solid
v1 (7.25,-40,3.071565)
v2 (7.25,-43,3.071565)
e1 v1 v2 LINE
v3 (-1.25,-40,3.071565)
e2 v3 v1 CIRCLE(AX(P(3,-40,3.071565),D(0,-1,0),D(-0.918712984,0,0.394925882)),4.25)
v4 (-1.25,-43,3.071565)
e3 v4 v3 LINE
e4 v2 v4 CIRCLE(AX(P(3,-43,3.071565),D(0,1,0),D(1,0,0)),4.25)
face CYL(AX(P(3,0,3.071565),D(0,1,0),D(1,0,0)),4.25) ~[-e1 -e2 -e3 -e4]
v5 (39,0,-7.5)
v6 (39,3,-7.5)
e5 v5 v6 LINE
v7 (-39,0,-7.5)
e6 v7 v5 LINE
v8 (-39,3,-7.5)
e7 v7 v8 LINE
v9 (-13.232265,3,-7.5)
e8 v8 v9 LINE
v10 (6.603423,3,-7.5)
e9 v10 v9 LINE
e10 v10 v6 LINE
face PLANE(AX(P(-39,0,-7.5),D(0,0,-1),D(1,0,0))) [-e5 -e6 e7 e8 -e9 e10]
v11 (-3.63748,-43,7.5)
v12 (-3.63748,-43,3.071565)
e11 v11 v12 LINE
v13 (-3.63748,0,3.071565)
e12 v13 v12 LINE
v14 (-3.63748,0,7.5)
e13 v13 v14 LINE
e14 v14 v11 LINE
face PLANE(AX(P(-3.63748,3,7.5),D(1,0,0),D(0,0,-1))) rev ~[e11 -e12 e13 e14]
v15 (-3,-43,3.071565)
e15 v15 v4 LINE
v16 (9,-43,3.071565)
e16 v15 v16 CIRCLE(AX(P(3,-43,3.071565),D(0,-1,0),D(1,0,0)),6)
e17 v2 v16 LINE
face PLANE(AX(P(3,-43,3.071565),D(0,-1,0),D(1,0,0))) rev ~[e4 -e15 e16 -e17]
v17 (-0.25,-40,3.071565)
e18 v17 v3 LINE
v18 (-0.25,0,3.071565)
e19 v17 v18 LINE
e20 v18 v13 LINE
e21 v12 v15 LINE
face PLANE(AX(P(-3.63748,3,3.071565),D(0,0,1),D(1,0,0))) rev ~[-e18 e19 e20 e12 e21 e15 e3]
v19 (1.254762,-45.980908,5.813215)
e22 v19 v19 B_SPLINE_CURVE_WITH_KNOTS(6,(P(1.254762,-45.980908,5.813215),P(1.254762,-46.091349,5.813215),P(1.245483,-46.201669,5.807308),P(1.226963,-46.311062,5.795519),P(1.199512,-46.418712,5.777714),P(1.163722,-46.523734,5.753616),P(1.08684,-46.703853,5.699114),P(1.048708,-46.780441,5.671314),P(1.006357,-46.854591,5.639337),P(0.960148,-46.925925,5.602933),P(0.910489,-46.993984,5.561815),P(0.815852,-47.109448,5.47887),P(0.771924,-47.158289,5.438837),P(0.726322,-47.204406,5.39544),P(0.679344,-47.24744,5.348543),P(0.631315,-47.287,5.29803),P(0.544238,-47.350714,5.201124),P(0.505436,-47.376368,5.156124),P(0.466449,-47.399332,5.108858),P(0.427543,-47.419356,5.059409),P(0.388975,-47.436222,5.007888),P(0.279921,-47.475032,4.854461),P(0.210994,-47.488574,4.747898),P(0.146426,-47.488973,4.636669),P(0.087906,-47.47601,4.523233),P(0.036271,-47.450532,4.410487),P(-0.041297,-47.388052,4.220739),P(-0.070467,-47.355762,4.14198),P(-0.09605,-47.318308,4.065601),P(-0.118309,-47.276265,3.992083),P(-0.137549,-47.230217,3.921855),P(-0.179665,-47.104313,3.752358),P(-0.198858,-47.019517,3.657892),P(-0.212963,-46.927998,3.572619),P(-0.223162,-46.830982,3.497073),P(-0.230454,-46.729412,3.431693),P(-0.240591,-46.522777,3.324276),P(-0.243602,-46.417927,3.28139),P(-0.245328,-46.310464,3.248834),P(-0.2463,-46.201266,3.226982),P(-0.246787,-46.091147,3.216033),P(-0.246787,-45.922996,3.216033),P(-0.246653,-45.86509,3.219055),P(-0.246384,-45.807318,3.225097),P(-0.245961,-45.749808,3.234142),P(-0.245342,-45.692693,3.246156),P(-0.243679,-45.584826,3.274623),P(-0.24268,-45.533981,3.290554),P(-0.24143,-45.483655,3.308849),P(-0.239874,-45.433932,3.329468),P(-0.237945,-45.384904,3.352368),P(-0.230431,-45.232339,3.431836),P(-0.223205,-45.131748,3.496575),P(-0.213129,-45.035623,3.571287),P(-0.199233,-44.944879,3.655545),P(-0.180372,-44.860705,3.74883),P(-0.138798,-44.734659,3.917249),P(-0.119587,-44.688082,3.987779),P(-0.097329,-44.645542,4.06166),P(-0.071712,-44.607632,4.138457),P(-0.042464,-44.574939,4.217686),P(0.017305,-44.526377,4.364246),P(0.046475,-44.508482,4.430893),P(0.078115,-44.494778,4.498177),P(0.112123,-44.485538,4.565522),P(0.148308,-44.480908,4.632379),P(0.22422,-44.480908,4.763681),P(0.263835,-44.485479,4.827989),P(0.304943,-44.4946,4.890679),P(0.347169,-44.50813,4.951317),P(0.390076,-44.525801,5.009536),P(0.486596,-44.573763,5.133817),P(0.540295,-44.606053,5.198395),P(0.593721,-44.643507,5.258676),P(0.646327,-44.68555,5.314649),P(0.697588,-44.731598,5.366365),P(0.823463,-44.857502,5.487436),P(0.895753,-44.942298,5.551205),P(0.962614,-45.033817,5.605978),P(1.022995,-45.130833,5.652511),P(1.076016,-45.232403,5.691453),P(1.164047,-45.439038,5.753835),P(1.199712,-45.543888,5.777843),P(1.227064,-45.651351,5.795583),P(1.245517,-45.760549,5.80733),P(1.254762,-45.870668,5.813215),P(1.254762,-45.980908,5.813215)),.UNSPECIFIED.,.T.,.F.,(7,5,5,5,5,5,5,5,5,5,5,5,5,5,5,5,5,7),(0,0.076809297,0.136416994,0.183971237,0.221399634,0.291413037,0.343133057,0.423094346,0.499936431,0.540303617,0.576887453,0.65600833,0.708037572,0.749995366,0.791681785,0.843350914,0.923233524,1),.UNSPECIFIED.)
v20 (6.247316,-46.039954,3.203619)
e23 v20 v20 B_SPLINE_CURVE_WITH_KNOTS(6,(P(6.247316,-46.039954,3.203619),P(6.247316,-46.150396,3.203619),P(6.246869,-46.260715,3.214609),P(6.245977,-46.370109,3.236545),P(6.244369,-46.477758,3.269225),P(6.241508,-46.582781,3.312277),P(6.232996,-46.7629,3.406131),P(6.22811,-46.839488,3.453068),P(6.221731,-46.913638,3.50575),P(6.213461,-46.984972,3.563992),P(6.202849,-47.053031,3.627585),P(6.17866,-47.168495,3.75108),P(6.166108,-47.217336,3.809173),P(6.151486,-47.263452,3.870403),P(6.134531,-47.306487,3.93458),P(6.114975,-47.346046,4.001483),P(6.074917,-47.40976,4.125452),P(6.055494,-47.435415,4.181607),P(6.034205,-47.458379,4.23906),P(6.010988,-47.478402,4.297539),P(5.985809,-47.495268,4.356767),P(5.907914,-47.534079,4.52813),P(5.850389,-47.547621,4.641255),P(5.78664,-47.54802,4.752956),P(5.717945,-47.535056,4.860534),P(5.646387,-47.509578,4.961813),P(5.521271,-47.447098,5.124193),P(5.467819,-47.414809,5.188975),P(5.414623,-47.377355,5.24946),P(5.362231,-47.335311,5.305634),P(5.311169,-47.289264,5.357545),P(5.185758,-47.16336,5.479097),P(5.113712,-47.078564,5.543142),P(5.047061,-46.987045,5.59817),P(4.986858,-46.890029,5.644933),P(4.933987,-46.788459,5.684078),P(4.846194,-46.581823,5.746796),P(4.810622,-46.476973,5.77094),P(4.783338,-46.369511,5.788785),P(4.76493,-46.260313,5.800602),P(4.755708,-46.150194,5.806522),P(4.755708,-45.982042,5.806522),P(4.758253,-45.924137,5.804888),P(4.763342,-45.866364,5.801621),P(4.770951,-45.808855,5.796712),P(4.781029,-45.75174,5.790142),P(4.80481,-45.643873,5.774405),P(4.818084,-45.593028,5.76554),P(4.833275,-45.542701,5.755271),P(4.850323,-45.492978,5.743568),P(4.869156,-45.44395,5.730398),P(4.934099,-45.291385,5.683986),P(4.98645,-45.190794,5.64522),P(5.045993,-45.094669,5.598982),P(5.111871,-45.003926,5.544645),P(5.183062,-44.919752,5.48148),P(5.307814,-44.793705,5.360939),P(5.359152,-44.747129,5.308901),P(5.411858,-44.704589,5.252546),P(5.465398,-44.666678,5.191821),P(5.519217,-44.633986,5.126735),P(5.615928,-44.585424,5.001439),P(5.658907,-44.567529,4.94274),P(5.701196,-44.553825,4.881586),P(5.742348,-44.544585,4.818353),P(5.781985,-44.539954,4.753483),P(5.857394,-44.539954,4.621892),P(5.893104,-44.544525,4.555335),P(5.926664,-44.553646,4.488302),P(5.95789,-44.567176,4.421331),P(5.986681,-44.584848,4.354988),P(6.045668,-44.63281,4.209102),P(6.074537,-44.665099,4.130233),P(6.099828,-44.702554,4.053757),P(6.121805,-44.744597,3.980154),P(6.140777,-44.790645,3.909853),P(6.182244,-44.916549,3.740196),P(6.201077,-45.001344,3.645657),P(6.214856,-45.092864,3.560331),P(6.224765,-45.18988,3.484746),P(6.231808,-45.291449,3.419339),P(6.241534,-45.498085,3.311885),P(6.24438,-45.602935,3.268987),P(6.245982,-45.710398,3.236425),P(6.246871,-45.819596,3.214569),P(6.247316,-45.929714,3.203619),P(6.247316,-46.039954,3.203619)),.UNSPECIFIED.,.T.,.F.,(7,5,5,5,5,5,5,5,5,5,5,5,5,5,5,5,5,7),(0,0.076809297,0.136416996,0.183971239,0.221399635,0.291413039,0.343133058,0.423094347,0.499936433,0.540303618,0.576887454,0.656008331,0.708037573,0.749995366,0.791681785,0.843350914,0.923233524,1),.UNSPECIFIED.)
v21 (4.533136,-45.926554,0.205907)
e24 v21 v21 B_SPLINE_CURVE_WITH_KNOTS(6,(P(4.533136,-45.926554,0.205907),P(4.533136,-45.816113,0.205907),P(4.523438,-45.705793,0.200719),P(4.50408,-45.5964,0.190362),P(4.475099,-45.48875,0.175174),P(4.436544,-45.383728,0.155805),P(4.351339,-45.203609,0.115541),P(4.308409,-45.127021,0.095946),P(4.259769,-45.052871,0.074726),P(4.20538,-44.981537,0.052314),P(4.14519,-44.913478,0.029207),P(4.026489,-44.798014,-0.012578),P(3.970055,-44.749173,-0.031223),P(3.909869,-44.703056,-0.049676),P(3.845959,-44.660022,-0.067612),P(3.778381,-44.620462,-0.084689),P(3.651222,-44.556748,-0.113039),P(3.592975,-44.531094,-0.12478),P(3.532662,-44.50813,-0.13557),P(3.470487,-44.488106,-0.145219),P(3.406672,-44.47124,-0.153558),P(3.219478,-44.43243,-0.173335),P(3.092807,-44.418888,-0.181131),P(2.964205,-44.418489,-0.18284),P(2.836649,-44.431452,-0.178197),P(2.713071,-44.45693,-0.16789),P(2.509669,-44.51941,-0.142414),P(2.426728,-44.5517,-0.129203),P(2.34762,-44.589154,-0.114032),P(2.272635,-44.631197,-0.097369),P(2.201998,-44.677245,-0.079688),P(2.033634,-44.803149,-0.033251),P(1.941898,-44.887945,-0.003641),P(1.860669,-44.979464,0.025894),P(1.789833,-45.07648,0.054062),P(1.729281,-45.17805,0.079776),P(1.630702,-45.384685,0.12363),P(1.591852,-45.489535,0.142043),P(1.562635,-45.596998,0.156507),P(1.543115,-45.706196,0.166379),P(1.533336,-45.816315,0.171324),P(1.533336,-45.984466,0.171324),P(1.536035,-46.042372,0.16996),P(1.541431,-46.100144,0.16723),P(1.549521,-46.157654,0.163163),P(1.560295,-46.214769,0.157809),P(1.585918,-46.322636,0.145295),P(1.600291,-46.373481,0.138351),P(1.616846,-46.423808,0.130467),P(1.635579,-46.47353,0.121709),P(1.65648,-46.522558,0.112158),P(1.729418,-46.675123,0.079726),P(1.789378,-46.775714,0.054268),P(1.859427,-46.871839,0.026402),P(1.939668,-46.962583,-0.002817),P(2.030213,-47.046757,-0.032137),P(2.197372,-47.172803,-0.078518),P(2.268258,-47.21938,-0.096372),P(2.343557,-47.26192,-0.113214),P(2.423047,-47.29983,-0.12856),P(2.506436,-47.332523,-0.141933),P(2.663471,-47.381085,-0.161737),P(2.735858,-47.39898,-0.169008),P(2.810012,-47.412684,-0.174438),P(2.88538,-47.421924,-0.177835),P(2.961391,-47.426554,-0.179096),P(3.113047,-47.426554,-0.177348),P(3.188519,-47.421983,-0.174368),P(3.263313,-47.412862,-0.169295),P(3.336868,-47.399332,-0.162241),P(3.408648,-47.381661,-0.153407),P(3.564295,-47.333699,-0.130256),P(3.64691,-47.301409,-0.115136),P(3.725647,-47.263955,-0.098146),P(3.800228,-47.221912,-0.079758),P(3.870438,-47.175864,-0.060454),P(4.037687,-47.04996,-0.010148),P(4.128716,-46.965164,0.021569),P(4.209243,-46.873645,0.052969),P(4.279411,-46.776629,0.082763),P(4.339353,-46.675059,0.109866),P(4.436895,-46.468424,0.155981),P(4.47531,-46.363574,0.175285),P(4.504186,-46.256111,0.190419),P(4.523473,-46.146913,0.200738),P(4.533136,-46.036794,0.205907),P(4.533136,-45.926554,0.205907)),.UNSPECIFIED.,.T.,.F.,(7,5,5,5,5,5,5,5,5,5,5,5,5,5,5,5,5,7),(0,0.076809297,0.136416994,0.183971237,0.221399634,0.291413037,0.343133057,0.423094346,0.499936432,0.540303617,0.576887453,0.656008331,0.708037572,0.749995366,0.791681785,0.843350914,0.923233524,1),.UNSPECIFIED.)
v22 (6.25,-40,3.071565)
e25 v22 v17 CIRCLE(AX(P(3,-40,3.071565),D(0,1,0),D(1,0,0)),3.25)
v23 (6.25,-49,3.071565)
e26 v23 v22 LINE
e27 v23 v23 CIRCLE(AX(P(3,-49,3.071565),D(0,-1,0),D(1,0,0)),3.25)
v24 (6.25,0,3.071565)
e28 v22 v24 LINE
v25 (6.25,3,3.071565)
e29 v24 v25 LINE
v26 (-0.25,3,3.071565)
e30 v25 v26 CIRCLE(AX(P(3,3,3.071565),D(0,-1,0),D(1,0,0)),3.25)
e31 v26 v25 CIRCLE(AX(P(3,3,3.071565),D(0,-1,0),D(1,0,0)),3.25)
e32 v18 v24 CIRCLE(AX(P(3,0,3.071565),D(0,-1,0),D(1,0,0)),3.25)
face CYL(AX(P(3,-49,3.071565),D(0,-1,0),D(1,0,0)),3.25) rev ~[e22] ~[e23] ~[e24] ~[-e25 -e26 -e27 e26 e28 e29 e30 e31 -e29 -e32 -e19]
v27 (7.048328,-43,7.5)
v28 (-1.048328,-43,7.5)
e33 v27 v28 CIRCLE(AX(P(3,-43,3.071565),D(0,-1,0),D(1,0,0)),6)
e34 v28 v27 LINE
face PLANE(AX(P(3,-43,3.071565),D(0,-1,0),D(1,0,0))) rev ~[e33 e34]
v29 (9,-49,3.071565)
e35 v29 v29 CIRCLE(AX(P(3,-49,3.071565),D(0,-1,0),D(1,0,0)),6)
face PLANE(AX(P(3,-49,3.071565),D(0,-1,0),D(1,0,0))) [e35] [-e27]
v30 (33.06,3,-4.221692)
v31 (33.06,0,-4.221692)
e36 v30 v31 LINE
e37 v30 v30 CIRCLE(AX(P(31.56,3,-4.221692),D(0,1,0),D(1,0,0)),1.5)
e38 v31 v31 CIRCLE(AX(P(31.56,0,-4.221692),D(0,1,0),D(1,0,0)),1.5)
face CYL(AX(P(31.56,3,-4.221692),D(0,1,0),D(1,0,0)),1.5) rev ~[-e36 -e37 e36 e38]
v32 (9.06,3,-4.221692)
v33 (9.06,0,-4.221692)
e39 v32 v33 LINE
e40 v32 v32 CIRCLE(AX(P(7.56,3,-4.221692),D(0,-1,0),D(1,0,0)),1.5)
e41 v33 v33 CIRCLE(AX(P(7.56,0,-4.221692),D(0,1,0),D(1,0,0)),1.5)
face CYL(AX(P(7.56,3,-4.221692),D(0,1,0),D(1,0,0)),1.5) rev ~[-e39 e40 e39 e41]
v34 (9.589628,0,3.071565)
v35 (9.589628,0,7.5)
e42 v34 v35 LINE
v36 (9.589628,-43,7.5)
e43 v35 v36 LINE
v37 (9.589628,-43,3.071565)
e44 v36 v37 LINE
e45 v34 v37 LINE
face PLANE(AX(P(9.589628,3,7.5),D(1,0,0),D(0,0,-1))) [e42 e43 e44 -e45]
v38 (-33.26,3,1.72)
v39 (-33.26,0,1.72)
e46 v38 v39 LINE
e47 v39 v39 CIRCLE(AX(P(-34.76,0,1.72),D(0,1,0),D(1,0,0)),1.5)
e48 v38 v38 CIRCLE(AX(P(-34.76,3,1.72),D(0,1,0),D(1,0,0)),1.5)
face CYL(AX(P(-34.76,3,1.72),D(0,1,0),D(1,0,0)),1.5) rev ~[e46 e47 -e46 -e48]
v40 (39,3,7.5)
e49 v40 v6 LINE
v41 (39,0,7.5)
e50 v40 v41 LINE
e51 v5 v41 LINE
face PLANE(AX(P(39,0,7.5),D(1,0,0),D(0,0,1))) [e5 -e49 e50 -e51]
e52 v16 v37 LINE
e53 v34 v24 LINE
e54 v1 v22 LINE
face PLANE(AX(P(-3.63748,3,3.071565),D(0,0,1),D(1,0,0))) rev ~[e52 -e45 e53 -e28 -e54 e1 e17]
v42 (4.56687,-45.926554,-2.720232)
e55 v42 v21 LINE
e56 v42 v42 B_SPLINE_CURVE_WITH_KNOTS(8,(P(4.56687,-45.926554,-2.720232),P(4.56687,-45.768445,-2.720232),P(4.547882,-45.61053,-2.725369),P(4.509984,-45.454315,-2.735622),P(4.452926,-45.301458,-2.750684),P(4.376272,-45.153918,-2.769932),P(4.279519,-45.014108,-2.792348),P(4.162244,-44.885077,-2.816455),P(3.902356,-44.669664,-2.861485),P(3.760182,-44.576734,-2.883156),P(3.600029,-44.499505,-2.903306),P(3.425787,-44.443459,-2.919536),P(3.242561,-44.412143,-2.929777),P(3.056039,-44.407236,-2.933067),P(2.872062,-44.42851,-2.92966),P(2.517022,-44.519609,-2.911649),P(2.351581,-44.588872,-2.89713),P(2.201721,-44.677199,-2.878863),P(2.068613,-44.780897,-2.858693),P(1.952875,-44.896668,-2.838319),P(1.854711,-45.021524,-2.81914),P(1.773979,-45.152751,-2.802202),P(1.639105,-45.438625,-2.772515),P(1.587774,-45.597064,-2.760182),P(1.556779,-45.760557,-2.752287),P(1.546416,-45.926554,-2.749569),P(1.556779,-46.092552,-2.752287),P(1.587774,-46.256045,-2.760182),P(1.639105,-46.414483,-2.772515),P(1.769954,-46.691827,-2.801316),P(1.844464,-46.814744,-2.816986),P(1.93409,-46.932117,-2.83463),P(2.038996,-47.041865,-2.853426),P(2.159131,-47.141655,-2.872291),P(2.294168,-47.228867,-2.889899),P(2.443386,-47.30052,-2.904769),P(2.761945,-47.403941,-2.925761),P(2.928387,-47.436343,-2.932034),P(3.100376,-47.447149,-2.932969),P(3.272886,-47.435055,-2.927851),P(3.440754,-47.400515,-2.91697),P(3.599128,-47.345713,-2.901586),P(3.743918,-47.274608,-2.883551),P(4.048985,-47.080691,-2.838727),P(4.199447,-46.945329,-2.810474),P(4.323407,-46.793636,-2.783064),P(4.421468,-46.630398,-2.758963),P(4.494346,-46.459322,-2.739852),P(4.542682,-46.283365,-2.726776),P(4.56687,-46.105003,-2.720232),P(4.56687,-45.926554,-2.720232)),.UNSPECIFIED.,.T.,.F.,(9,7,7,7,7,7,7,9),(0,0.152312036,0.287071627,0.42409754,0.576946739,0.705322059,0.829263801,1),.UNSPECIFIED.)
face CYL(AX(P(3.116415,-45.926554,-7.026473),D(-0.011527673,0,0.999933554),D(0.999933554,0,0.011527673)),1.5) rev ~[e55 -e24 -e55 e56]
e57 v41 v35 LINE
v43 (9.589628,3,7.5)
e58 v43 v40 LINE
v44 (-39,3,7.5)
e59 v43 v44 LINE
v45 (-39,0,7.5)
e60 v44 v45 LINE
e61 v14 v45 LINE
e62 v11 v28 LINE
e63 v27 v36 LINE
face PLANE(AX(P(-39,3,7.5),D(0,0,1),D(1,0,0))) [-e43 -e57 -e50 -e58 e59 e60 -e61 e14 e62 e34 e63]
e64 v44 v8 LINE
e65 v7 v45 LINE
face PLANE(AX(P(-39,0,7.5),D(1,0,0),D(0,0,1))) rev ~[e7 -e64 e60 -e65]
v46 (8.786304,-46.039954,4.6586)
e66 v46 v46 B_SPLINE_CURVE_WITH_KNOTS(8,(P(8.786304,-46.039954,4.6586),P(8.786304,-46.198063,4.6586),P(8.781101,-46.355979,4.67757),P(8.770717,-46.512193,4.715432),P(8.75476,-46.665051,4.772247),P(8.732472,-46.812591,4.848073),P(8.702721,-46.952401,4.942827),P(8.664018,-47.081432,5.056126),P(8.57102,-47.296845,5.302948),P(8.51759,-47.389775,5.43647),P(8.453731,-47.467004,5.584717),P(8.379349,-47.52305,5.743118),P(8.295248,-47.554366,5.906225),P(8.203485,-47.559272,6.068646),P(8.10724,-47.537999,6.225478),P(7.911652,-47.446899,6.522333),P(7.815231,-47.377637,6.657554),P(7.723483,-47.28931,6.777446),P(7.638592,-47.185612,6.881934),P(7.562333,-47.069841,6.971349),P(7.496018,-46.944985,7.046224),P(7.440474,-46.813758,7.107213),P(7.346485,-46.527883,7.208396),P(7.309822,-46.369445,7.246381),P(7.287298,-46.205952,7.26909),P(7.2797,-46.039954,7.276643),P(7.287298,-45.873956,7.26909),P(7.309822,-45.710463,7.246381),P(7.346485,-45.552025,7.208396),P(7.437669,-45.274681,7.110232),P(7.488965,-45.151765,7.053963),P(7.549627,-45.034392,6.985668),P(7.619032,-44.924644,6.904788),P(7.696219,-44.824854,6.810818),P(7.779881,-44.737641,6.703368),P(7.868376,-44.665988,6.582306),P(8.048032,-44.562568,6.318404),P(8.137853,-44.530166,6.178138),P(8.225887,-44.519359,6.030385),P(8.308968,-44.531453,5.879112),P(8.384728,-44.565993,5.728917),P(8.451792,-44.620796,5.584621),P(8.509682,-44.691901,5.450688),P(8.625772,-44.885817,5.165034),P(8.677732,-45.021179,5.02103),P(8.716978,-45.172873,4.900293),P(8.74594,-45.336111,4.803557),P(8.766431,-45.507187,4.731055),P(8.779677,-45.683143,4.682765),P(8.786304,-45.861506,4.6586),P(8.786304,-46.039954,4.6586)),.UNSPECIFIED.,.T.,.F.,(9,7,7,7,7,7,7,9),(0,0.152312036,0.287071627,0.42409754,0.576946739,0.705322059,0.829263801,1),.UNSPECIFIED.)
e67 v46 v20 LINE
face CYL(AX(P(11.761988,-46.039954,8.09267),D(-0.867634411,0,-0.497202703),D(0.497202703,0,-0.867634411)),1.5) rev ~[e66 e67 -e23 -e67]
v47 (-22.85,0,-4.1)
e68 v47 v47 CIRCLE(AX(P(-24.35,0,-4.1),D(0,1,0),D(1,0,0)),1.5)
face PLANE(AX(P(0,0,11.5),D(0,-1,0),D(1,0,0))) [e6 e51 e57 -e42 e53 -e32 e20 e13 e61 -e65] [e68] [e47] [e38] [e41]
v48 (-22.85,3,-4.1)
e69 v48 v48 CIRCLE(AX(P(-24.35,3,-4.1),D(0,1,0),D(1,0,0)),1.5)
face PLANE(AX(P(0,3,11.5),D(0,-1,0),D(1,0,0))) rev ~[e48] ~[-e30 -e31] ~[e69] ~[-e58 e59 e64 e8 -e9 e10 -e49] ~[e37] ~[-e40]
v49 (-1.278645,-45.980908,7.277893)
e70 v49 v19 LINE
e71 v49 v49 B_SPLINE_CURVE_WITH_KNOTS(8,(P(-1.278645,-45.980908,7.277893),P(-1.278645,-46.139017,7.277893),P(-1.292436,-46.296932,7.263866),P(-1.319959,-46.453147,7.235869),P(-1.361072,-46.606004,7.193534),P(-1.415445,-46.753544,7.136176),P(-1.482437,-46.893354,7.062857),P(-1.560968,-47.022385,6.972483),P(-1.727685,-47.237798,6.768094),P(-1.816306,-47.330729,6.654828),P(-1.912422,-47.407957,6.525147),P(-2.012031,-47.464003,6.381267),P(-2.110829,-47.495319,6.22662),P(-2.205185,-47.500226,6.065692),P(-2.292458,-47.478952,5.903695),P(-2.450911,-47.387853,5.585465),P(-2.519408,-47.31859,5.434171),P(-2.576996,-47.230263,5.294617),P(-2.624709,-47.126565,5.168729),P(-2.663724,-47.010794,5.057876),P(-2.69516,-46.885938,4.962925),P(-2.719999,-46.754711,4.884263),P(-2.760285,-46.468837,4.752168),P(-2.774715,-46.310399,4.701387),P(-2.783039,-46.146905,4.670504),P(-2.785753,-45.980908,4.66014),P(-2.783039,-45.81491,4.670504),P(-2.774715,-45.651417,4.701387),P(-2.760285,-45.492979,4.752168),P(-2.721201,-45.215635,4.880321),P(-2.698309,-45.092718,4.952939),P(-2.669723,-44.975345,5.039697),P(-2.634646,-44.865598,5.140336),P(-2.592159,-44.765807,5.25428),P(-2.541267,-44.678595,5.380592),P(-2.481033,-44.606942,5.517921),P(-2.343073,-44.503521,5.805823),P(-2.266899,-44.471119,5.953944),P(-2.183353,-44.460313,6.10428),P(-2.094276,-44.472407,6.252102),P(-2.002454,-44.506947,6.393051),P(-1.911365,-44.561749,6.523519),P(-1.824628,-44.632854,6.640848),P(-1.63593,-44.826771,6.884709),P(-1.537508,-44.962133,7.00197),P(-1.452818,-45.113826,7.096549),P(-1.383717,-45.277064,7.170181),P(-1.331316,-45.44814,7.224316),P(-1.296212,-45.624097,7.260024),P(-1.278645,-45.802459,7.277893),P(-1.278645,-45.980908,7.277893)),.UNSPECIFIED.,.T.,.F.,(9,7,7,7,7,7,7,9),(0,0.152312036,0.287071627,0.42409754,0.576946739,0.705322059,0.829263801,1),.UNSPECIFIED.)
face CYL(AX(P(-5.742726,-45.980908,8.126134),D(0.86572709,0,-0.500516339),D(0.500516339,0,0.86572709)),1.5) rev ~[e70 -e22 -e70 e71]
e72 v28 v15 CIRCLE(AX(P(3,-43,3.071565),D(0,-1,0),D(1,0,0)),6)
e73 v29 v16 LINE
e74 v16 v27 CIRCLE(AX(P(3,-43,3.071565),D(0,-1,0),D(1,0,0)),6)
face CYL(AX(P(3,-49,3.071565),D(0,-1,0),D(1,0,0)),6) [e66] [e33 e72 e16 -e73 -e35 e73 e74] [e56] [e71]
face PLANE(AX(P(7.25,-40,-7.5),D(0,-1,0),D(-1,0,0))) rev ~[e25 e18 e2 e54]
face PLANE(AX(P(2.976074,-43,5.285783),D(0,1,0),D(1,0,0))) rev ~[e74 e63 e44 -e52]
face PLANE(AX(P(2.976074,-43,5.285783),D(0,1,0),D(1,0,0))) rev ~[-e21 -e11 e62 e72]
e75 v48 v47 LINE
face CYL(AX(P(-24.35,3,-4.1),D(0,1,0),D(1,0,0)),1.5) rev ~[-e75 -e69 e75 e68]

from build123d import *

# Parameters (mm, degrees)
SKETCH_1_W                = 78
SKETCH_1_H                = 15
EXTRUDE_1_DEPTH           = 3
SKETCH_3_R                = 1.5
CUT_EXTRUDE_1_DEPTH       = 3
SKETCH_4_R                = 6
EXTRUDE_2_DEPTH           = 18
SKETCH_5_R                = 4.5
CUT_EXTRUDE_2_DEPTH       = 21
F_2_0MM_2_D               = 3
F_2_0MM_2_DEPTH           = 4.5
F_2_0MM_2_TIP             = 1.5
F_2_0MM_2_ON_FACE_2_D     = 3
F_2_0MM_2_ON_FACE_2_DEPTH = 4.5
F_2_0MM_2_ON_FACE_2_TIP   = 1.5
SKETCH_10_W               = 6
SKETCH_10_H               = 10
CUT_EXTRUDE_3_DEPTH       = 7
SKETCH_13_W               = 19.835687411
SKETCH_13_H               = 21.610205193
CUT_EXTRUDE_4_DEPTH       = 20
SKETCH_14_W               = 11.523038103
SKETCH_14_H               = 10.49031299
EXTRUDE_3_DEPTH           = 3
SKETCH_18_W               = 78
SKETCH_18_H               = 8
EXTRUDE_4_DEPTH           = 3
SKETCH_19_W               = 36.767904102
SKETCH_19_H               = 2.5
EXTRUDE_5_DEPTH           = 12.5
SKETCH_23_R               = 1.65
CUT_EXTRUDE_6_DEPTH       = 12.5
SKETCH_25_W               = 4.236607592
SKETCH_25_H               = 5.36409187
EXTRUDE_7_DEPTH           = 2.5
SKETCH_26_R               = 1.6
CUT_EXTRUDE_7_DEPTH       = 2.5
SKETCH_27_W               = 21.346012392
SKETCH_27_H               = 6.594354882
EXTRUDE_8_DEPTH           = 2.5
SKETCH_28_W               = 36.767231154
SKETCH_28_H               = 5.91819544
EXTRUDE_9_DEPTH           = 2.5
SKETCH_29_W               = 27.660340415
SKETCH_29_H               = 3.5
CUT_EXTRUDE_9_DEPTH       = 2.5
SKETCH_30_W               = 78
SKETCH_30_H               = 8
CUT_EXTRUDE_10_DEPTH      = 100
SKETCH_31_W               = 60.820132647
SKETCH_31_H               = 3
EXTRUDE_10_DEPTH          = 49
SKETCH_32_W               = 48
SKETCH_32_H               = 3.2
CUT_EXTRUDE_11_DEPTH      = 49
SKETCH_33_W               = 15
SKETCH_33_H               = 49.05968874
CUT_EXTRUDE_12_DEPTH      = 100
SKETCH_34_R               = 4.25
EXTRUDE_11_DEPTH          = 49
SKETCH_35_R               = 6
EXTRUDE_12_DEPTH          = 6
SKETCH_36_W               = 8.5
SKETCH_36_H               = 40
CUT_EXTRUDE_13_DEPTH      = 11
SKETCH_37_R               = 3.25
CUT_EXTRUDE_16_DEPTH      = 100
SKETCH_39_W               = 8.456699936
SKETCH_39_H               = 16
CUT_EXTRUDE_17_DEPTH      = 1.25
F_3_0MM_1_D               = 3
F_3_0MM_1_DEPTH           = 4.098709071
F_3_0MM_1_TIP             = 0.901290929
F_3_0MM_2_D               = 3
F_3_0MM_2_DEPTH           = 4.098709071
F_3_0MM_2_TIP             = 0.901290929
F_3_0MM_3_D               = 3
F_3_0MM_3_DEPTH           = 4.098709071
F_3_0MM_3_TIP             = 0.901290929
SKETCH_46_W               = 13.227107738
SKETCH_46_H               = 4.428434999
EXTRUDE_13_DEPTH          = 46
CUT_EXTRUDE_18_DEPTH      = 55


with BuildPart() as part:
    # 草图1 → 凸台-拉伸1 (new body)
    with BuildSketch(Plane(origin=(0, 0, 0), x_dir=(1, 0, 0), z_dir=(0, 1, 0))):
        Rectangle(SKETCH_1_W, SKETCH_1_H)
    extrude(amount=EXTRUDE_1_DEPTH)

    # 草图3 → 切除-拉伸1 (cut)
    with BuildSketch(Plane(origin=(0, 3, 0), x_dir=(1, 0, 0), z_dir=(0, 1, 0))):
        with Locations((-34.76, -1.72)):
            Circle(SKETCH_3_R)
        with Locations((-24.35, 4.1)):
            Circle(SKETCH_3_R)
        with Locations((31.56, 4.221692081)):
            Circle(SKETCH_3_R)
        with Locations((7.56, 4.221692081)):
            Circle(SKETCH_3_R)
    extrude(amount=-CUT_EXTRUDE_1_DEPTH, mode=Mode.SUBTRACT)

    # 草图4 → 凸台-拉伸2 (add)
    with BuildSketch(Plane(origin=(0, 3, 0), x_dir=(1, 0, 0), z_dir=(0, 1, 0))):
        with Locations((-3, -1.234165229)):
            Circle(SKETCH_4_R)
    extrude(amount=EXTRUDE_2_DEPTH)

    # 草图5 → 切除-拉伸2 (cut)
    with BuildSketch(Plane(origin=(0, 21, 0), x_dir=(1, 0, 0), z_dir=(0, 1, 0))):
        with Locations((-3, -1.234165229)):
            Circle(SKETCH_5_R)
    extrude(amount=-CUT_EXTRUDE_2_DEPTH, mode=Mode.SUBTRACT)

    # Ø2.0mm 暗销孔2
    with Locations(Plane(origin=(-7.901331048, 17.342107422, 4.694938836), x_dir=(-0.576795601176, 0, -0.816888507977), z_dir=(-0.816888507977, 0, 0.576795601176))):
        with Locations((0, 0)):
            Hole(F_2_0MM_2_D / 2, depth=F_2_0MM_2_DEPTH)
            with Locations((0, 0, -(F_2_0MM_2_DEPTH + F_2_0MM_2_TIP / 2))):  # 90° drill point
                Cone(0, F_2_0MM_2_D / 2, F_2_0MM_2_TIP, mode=Mode.SUBTRACT)

    # Ø2.0mm 暗销孔2 on face 2
    with Locations(Plane(origin=(1.071764877, 17.164817099, 5.641061052), x_dir=(0.734483043181, 0, -0.678627039897), z_dir=(0.678627039897, 0, 0.734483043181))):
        with Locations((0, 0)):
            Hole(F_2_0MM_2_ON_FACE_2_D / 2, depth=F_2_0MM_2_ON_FACE_2_DEPTH)
            with Locations((0, 0, -(F_2_0MM_2_ON_FACE_2_DEPTH + F_2_0MM_2_ON_FACE_2_TIP / 2))):  # 90° drill point
                Cone(0, F_2_0MM_2_ON_FACE_2_D / 2, F_2_0MM_2_ON_FACE_2_TIP, mode=Mode.SUBTRACT)

    # 草图10 → 切除-拉伸3 (cut)
    with BuildSketch(Plane(origin=(0, 0, -7.5), x_dir=(-1, 0, 0), z_dir=(0, 0, -1))):
        with Locations((3, 8)):
            Rectangle(SKETCH_10_W, SKETCH_10_H)
    extrude(amount=-CUT_EXTRUDE_3_DEPTH, mode=Mode.SUBTRACT)

    # 草图13 → 切除-拉伸4 (cut)
    with BuildSketch(Plane(origin=(0, 0, -7.5), x_dir=(-1, 0, 0), z_dir=(0, 0, -1))):
        with Locations((3.314421038, 13.805102597)):
            Rectangle(SKETCH_13_W, SKETCH_13_H)
    extrude(amount=-CUT_EXTRUDE_4_DEPTH, mode=Mode.SUBTRACT)

    # 草图14 → 凸台-拉伸3 (add)
    with BuildSketch(Plane(origin=(0, 3, 0), x_dir=(1, 0, 0), z_dir=(0, 1, 0))):
        with Locations((-2.989467433, -1.263493391)):
            Rectangle(SKETCH_14_W, SKETCH_14_H)
    extrude(amount=-EXTRUDE_3_DEPTH)

    # 草图18 → 凸台-拉伸4 (add)
    with BuildSketch(Plane.XZ):
        with Locations((0, 11.5)):
            Rectangle(SKETCH_18_W, SKETCH_18_H)
    extrude(amount=-EXTRUDE_4_DEPTH)

    # 草图19 → 凸台-拉伸5 (add)
    with BuildSketch(Plane.XZ):
        with Locations((0.839237194, 14.25)):
            Rectangle(SKETCH_19_W, SKETCH_19_H)
    extrude(amount=EXTRUDE_5_DEPTH)

    # 草图23 → 切除-拉伸6 (cut)
    with BuildSketch(Plane(origin=(0, 0, 13), x_dir=(-1, 0, 0), z_dir=(0, 0, -1))):
        with Locations((-8.603189245, -6.05592298)):
            Circle(SKETCH_23_R)
        with Locations((2.596810755, -6.05592298)):
            Circle(SKETCH_23_R)
    extrude(amount=-CUT_EXTRUDE_6_DEPTH, mode=Mode.SUBTRACT)

    # 草图25 → 凸台-拉伸7 (add)
    with BuildSketch(Plane(origin=(0, 0, 13), x_dir=(-1, 0, 0), z_dir=(0, 0, -1))):
        with Locations((2.330668631, -6.426480946)):
            Rectangle(SKETCH_25_W, SKETCH_25_H)
    extrude(amount=-EXTRUDE_7_DEPTH)

    # 草图26 → 切除-拉伸7 (cut)
    with BuildSketch(Plane(origin=(0, 0, 13), x_dir=(-1, 0, 0), z_dir=(0, 0, -1))):
        with Locations((4.196810755, -6.05592298)):
            Circle(SKETCH_26_R)
    extrude(amount=-CUT_EXTRUDE_7_DEPTH, mode=Mode.SUBTRACT)

    # 草图27 → 凸台-拉伸8 (add)
    with BuildSketch(Plane(origin=(0, 0, 13), x_dir=(-1, 0, 0), z_dir=(0, 0, -1))):
        with Locations((-2.379316694, -6.691741876)):
            Rectangle(SKETCH_27_W, SKETCH_27_H)
    extrude(amount=-EXTRUDE_8_DEPTH)

    # 草图28 → 凸台-拉伸9 (add)
    with BuildSketch(Plane(origin=(0, 0, 13), x_dir=(-1, 0, 0), z_dir=(0, 0, -1))):
        with Locations((-0.839573668, -15.45909772)):
            Rectangle(SKETCH_28_W, SKETCH_28_H)
    extrude(amount=-EXTRUDE_9_DEPTH)

    # 草图29 → 切除-拉伸9 (cut)
    with BuildSketch(Plane(origin=(0, 0, 13), x_dir=(-1, 0, 0), z_dir=(0, 0, -1))):
        with Locations((-0.633763758, -13.394190827)):
            Rectangle(SKETCH_29_W, SKETCH_29_H)
    extrude(amount=-CUT_EXTRUDE_9_DEPTH, mode=Mode.SUBTRACT)

    # 草图30 → 切除-拉伸10 (cut)
    with BuildSketch(Plane(origin=(0, 3, 0), x_dir=(1, 0, 0), z_dir=(0, 1, 0))):
        with Locations((0, -11.5)):
            Rectangle(SKETCH_30_W, SKETCH_30_H)
    extrude(amount=-CUT_EXTRUDE_10_DEPTH, mode=Mode.SUBTRACT)

    # 草图31 → 凸台-拉伸10 (add)
    with BuildSketch(Plane.XZ):
        with Locations((0.65611444, 6)):
            Rectangle(SKETCH_31_W, SKETCH_31_H)
    extrude(amount=EXTRUDE_10_DEPTH)

    # 草图32 → 切除-拉伸11 (cut)
    with BuildSketch(Plane(origin=(0, 0, 4.5), x_dir=(-1, 0, 0), z_dir=(0, 0, -1))):
        with Locations((-0.15338956, -37.454114518)):
            Rectangle(SKETCH_32_W, SKETCH_32_H)
        with Locations((-0.189333293, -44.654114518)):
            Rectangle(SKETCH_32_W, SKETCH_32_H)
        with Locations((-0.173277927, -30.254114518)):
            Rectangle(SKETCH_32_W, SKETCH_32_H)
        with Locations((-0.205191163, -23.054114518)):
            Rectangle(SKETCH_32_W, SKETCH_32_H)
        with Locations((-0.175604554, -15.854114518)):
            Rectangle(SKETCH_32_W, SKETCH_32_H)
        with Locations((-0.276259634, -9.654114518)):
            Rectangle(SKETCH_32_W, SKETCH_32_H)
    extrude(amount=-CUT_EXTRUDE_11_DEPTH, mode=Mode.SUBTRACT)

    # 草图33 → 切除-拉伸12 (cut)
    with BuildSketch(Plane(origin=(31.066180764, 0, 0), x_dir=(0, 0, -1), z_dir=(1, 0, 0))):
        with Locations((0, -24.52984437)):
            Rectangle(SKETCH_33_W, SKETCH_33_H)
    extrude(amount=-CUT_EXTRUDE_12_DEPTH, mode=Mode.SUBTRACT)

    # 草图34 → 凸台-拉伸11 (add)
    with BuildSketch(Plane.XZ):
        with Locations((3, 3.071565001)):
            Circle(SKETCH_34_R)
    extrude(amount=EXTRUDE_11_DEPTH)

    # 草图35 → 凸台-拉伸12 (add)
    with BuildSketch(Plane.XZ.offset(49)):
        with Locations((3, 3.071565001)):
            Circle(SKETCH_35_R)
    extrude(amount=-EXTRUDE_12_DEPTH)

    # 草图36 → 切除-拉伸13 (cut)
    with BuildSketch(Plane(origin=(0, 0, -7.5), x_dir=(-1, 0, 0), z_dir=(0, 0, -1))):
        with Locations((-3, -20)):
            Rectangle(SKETCH_36_W, SKETCH_36_H)
    extrude(amount=-CUT_EXTRUDE_13_DEPTH, mode=Mode.SUBTRACT)

    # 草图37 → 切除-拉伸16 (cut)
    with BuildSketch(Plane.XZ.offset(49)):
        with Locations((3, 3.071565001)):
            Circle(SKETCH_37_R)
    extrude(amount=-CUT_EXTRUDE_16_DEPTH, mode=Mode.SUBTRACT)

    # 草图39 → 切除-拉伸17 (cut)
    with BuildSketch(Plane(origin=(0, 0, 3.5), x_dir=(-1, 0, 0), z_dir=(0, 0, -1))):
        with Locations((-3, -32)):
            Rectangle(SKETCH_39_W, SKETCH_39_H)
    extrude(amount=-CUT_EXTRUDE_17_DEPTH, mode=Mode.SUBTRACT)

    # Ø3.0mm 暗销孔1
    with Locations(Plane(origin=(3.06916604, -45.926554475, -2.928036324), x_dir=(-0.999933554166, 0, -0.011527673319), z_dir=(0.011527673319, 0, -0.999933554166))):
        with Locations((0, 0)):
            Hole(F_3_0MM_1_D / 2, depth=F_3_0MM_1_DEPTH)
            with Locations((0, 0, -(F_3_0MM_1_DEPTH + F_3_0MM_1_TIP / 2))):  # 118° drill point
                Cone(0, F_3_0MM_1_D / 2, F_3_0MM_1_TIP, mode=Mode.SUBTRACT)

    # Ø3.0mm 暗销孔2
    with Locations(Plane(origin=(-2.19436254, -45.980907568, 6.074663036), x_dir=(-0.500516339146, 0, -0.865727089936), z_dir=(-0.865727089936, 0, 0.500516339146))):
        with Locations((0, 0)):
            Hole(F_3_0MM_2_D / 2, depth=F_3_0MM_2_DEPTH)
            with Locations((0, 0, -(F_3_0MM_2_DEPTH + F_3_0MM_2_TIP / 2))):  # 118° drill point
                Cone(0, F_3_0MM_2_D / 2, F_3_0MM_2_TIP, mode=Mode.SUBTRACT)

    # Ø3.0mm 暗销孔3
    with Locations(Plane(origin=(8.205806468, -46.039954185, 6.054781221), x_dir=(-0.497202703373, 0, 0.86763441135), z_dir=(0.86763441135, 0, 0.497202703373))):
        with Locations((0, 0)):
            Hole(F_3_0MM_3_D / 2, depth=F_3_0MM_3_DEPTH)
            with Locations((0, 0, -(F_3_0MM_3_DEPTH + F_3_0MM_3_TIP / 2))):  # 118° drill point
                Cone(0, F_3_0MM_3_D / 2, F_3_0MM_3_TIP, mode=Mode.SUBTRACT)

    # 草图46 → 凸台-拉伸13 (add)
    with BuildSketch(Plane(origin=(0, 3, 0), x_dir=(1, 0, 0), z_dir=(0, 1, 0))):
        with Locations((2.976074231, -5.285782501)):
            Rectangle(SKETCH_46_W, SKETCH_46_H)
    extrude(amount=-EXTRUDE_13_DEPTH)

    # 草图48 → 切除-拉伸18 (cut)
    with BuildSketch(Plane.XZ.offset(49)):
        with BuildLine():
            Line((-0.25, 3.071565001), (6.25, 3.071565001))
            ThreePointArc((6.25, 3.071565001), (3, 6.321565001), (-0.25, 3.071565001))
        make_face()
    extrude(amount=-CUT_EXTRUDE_18_DEPTH, mode=Mode.SUBTRACT)


solid = part.part
